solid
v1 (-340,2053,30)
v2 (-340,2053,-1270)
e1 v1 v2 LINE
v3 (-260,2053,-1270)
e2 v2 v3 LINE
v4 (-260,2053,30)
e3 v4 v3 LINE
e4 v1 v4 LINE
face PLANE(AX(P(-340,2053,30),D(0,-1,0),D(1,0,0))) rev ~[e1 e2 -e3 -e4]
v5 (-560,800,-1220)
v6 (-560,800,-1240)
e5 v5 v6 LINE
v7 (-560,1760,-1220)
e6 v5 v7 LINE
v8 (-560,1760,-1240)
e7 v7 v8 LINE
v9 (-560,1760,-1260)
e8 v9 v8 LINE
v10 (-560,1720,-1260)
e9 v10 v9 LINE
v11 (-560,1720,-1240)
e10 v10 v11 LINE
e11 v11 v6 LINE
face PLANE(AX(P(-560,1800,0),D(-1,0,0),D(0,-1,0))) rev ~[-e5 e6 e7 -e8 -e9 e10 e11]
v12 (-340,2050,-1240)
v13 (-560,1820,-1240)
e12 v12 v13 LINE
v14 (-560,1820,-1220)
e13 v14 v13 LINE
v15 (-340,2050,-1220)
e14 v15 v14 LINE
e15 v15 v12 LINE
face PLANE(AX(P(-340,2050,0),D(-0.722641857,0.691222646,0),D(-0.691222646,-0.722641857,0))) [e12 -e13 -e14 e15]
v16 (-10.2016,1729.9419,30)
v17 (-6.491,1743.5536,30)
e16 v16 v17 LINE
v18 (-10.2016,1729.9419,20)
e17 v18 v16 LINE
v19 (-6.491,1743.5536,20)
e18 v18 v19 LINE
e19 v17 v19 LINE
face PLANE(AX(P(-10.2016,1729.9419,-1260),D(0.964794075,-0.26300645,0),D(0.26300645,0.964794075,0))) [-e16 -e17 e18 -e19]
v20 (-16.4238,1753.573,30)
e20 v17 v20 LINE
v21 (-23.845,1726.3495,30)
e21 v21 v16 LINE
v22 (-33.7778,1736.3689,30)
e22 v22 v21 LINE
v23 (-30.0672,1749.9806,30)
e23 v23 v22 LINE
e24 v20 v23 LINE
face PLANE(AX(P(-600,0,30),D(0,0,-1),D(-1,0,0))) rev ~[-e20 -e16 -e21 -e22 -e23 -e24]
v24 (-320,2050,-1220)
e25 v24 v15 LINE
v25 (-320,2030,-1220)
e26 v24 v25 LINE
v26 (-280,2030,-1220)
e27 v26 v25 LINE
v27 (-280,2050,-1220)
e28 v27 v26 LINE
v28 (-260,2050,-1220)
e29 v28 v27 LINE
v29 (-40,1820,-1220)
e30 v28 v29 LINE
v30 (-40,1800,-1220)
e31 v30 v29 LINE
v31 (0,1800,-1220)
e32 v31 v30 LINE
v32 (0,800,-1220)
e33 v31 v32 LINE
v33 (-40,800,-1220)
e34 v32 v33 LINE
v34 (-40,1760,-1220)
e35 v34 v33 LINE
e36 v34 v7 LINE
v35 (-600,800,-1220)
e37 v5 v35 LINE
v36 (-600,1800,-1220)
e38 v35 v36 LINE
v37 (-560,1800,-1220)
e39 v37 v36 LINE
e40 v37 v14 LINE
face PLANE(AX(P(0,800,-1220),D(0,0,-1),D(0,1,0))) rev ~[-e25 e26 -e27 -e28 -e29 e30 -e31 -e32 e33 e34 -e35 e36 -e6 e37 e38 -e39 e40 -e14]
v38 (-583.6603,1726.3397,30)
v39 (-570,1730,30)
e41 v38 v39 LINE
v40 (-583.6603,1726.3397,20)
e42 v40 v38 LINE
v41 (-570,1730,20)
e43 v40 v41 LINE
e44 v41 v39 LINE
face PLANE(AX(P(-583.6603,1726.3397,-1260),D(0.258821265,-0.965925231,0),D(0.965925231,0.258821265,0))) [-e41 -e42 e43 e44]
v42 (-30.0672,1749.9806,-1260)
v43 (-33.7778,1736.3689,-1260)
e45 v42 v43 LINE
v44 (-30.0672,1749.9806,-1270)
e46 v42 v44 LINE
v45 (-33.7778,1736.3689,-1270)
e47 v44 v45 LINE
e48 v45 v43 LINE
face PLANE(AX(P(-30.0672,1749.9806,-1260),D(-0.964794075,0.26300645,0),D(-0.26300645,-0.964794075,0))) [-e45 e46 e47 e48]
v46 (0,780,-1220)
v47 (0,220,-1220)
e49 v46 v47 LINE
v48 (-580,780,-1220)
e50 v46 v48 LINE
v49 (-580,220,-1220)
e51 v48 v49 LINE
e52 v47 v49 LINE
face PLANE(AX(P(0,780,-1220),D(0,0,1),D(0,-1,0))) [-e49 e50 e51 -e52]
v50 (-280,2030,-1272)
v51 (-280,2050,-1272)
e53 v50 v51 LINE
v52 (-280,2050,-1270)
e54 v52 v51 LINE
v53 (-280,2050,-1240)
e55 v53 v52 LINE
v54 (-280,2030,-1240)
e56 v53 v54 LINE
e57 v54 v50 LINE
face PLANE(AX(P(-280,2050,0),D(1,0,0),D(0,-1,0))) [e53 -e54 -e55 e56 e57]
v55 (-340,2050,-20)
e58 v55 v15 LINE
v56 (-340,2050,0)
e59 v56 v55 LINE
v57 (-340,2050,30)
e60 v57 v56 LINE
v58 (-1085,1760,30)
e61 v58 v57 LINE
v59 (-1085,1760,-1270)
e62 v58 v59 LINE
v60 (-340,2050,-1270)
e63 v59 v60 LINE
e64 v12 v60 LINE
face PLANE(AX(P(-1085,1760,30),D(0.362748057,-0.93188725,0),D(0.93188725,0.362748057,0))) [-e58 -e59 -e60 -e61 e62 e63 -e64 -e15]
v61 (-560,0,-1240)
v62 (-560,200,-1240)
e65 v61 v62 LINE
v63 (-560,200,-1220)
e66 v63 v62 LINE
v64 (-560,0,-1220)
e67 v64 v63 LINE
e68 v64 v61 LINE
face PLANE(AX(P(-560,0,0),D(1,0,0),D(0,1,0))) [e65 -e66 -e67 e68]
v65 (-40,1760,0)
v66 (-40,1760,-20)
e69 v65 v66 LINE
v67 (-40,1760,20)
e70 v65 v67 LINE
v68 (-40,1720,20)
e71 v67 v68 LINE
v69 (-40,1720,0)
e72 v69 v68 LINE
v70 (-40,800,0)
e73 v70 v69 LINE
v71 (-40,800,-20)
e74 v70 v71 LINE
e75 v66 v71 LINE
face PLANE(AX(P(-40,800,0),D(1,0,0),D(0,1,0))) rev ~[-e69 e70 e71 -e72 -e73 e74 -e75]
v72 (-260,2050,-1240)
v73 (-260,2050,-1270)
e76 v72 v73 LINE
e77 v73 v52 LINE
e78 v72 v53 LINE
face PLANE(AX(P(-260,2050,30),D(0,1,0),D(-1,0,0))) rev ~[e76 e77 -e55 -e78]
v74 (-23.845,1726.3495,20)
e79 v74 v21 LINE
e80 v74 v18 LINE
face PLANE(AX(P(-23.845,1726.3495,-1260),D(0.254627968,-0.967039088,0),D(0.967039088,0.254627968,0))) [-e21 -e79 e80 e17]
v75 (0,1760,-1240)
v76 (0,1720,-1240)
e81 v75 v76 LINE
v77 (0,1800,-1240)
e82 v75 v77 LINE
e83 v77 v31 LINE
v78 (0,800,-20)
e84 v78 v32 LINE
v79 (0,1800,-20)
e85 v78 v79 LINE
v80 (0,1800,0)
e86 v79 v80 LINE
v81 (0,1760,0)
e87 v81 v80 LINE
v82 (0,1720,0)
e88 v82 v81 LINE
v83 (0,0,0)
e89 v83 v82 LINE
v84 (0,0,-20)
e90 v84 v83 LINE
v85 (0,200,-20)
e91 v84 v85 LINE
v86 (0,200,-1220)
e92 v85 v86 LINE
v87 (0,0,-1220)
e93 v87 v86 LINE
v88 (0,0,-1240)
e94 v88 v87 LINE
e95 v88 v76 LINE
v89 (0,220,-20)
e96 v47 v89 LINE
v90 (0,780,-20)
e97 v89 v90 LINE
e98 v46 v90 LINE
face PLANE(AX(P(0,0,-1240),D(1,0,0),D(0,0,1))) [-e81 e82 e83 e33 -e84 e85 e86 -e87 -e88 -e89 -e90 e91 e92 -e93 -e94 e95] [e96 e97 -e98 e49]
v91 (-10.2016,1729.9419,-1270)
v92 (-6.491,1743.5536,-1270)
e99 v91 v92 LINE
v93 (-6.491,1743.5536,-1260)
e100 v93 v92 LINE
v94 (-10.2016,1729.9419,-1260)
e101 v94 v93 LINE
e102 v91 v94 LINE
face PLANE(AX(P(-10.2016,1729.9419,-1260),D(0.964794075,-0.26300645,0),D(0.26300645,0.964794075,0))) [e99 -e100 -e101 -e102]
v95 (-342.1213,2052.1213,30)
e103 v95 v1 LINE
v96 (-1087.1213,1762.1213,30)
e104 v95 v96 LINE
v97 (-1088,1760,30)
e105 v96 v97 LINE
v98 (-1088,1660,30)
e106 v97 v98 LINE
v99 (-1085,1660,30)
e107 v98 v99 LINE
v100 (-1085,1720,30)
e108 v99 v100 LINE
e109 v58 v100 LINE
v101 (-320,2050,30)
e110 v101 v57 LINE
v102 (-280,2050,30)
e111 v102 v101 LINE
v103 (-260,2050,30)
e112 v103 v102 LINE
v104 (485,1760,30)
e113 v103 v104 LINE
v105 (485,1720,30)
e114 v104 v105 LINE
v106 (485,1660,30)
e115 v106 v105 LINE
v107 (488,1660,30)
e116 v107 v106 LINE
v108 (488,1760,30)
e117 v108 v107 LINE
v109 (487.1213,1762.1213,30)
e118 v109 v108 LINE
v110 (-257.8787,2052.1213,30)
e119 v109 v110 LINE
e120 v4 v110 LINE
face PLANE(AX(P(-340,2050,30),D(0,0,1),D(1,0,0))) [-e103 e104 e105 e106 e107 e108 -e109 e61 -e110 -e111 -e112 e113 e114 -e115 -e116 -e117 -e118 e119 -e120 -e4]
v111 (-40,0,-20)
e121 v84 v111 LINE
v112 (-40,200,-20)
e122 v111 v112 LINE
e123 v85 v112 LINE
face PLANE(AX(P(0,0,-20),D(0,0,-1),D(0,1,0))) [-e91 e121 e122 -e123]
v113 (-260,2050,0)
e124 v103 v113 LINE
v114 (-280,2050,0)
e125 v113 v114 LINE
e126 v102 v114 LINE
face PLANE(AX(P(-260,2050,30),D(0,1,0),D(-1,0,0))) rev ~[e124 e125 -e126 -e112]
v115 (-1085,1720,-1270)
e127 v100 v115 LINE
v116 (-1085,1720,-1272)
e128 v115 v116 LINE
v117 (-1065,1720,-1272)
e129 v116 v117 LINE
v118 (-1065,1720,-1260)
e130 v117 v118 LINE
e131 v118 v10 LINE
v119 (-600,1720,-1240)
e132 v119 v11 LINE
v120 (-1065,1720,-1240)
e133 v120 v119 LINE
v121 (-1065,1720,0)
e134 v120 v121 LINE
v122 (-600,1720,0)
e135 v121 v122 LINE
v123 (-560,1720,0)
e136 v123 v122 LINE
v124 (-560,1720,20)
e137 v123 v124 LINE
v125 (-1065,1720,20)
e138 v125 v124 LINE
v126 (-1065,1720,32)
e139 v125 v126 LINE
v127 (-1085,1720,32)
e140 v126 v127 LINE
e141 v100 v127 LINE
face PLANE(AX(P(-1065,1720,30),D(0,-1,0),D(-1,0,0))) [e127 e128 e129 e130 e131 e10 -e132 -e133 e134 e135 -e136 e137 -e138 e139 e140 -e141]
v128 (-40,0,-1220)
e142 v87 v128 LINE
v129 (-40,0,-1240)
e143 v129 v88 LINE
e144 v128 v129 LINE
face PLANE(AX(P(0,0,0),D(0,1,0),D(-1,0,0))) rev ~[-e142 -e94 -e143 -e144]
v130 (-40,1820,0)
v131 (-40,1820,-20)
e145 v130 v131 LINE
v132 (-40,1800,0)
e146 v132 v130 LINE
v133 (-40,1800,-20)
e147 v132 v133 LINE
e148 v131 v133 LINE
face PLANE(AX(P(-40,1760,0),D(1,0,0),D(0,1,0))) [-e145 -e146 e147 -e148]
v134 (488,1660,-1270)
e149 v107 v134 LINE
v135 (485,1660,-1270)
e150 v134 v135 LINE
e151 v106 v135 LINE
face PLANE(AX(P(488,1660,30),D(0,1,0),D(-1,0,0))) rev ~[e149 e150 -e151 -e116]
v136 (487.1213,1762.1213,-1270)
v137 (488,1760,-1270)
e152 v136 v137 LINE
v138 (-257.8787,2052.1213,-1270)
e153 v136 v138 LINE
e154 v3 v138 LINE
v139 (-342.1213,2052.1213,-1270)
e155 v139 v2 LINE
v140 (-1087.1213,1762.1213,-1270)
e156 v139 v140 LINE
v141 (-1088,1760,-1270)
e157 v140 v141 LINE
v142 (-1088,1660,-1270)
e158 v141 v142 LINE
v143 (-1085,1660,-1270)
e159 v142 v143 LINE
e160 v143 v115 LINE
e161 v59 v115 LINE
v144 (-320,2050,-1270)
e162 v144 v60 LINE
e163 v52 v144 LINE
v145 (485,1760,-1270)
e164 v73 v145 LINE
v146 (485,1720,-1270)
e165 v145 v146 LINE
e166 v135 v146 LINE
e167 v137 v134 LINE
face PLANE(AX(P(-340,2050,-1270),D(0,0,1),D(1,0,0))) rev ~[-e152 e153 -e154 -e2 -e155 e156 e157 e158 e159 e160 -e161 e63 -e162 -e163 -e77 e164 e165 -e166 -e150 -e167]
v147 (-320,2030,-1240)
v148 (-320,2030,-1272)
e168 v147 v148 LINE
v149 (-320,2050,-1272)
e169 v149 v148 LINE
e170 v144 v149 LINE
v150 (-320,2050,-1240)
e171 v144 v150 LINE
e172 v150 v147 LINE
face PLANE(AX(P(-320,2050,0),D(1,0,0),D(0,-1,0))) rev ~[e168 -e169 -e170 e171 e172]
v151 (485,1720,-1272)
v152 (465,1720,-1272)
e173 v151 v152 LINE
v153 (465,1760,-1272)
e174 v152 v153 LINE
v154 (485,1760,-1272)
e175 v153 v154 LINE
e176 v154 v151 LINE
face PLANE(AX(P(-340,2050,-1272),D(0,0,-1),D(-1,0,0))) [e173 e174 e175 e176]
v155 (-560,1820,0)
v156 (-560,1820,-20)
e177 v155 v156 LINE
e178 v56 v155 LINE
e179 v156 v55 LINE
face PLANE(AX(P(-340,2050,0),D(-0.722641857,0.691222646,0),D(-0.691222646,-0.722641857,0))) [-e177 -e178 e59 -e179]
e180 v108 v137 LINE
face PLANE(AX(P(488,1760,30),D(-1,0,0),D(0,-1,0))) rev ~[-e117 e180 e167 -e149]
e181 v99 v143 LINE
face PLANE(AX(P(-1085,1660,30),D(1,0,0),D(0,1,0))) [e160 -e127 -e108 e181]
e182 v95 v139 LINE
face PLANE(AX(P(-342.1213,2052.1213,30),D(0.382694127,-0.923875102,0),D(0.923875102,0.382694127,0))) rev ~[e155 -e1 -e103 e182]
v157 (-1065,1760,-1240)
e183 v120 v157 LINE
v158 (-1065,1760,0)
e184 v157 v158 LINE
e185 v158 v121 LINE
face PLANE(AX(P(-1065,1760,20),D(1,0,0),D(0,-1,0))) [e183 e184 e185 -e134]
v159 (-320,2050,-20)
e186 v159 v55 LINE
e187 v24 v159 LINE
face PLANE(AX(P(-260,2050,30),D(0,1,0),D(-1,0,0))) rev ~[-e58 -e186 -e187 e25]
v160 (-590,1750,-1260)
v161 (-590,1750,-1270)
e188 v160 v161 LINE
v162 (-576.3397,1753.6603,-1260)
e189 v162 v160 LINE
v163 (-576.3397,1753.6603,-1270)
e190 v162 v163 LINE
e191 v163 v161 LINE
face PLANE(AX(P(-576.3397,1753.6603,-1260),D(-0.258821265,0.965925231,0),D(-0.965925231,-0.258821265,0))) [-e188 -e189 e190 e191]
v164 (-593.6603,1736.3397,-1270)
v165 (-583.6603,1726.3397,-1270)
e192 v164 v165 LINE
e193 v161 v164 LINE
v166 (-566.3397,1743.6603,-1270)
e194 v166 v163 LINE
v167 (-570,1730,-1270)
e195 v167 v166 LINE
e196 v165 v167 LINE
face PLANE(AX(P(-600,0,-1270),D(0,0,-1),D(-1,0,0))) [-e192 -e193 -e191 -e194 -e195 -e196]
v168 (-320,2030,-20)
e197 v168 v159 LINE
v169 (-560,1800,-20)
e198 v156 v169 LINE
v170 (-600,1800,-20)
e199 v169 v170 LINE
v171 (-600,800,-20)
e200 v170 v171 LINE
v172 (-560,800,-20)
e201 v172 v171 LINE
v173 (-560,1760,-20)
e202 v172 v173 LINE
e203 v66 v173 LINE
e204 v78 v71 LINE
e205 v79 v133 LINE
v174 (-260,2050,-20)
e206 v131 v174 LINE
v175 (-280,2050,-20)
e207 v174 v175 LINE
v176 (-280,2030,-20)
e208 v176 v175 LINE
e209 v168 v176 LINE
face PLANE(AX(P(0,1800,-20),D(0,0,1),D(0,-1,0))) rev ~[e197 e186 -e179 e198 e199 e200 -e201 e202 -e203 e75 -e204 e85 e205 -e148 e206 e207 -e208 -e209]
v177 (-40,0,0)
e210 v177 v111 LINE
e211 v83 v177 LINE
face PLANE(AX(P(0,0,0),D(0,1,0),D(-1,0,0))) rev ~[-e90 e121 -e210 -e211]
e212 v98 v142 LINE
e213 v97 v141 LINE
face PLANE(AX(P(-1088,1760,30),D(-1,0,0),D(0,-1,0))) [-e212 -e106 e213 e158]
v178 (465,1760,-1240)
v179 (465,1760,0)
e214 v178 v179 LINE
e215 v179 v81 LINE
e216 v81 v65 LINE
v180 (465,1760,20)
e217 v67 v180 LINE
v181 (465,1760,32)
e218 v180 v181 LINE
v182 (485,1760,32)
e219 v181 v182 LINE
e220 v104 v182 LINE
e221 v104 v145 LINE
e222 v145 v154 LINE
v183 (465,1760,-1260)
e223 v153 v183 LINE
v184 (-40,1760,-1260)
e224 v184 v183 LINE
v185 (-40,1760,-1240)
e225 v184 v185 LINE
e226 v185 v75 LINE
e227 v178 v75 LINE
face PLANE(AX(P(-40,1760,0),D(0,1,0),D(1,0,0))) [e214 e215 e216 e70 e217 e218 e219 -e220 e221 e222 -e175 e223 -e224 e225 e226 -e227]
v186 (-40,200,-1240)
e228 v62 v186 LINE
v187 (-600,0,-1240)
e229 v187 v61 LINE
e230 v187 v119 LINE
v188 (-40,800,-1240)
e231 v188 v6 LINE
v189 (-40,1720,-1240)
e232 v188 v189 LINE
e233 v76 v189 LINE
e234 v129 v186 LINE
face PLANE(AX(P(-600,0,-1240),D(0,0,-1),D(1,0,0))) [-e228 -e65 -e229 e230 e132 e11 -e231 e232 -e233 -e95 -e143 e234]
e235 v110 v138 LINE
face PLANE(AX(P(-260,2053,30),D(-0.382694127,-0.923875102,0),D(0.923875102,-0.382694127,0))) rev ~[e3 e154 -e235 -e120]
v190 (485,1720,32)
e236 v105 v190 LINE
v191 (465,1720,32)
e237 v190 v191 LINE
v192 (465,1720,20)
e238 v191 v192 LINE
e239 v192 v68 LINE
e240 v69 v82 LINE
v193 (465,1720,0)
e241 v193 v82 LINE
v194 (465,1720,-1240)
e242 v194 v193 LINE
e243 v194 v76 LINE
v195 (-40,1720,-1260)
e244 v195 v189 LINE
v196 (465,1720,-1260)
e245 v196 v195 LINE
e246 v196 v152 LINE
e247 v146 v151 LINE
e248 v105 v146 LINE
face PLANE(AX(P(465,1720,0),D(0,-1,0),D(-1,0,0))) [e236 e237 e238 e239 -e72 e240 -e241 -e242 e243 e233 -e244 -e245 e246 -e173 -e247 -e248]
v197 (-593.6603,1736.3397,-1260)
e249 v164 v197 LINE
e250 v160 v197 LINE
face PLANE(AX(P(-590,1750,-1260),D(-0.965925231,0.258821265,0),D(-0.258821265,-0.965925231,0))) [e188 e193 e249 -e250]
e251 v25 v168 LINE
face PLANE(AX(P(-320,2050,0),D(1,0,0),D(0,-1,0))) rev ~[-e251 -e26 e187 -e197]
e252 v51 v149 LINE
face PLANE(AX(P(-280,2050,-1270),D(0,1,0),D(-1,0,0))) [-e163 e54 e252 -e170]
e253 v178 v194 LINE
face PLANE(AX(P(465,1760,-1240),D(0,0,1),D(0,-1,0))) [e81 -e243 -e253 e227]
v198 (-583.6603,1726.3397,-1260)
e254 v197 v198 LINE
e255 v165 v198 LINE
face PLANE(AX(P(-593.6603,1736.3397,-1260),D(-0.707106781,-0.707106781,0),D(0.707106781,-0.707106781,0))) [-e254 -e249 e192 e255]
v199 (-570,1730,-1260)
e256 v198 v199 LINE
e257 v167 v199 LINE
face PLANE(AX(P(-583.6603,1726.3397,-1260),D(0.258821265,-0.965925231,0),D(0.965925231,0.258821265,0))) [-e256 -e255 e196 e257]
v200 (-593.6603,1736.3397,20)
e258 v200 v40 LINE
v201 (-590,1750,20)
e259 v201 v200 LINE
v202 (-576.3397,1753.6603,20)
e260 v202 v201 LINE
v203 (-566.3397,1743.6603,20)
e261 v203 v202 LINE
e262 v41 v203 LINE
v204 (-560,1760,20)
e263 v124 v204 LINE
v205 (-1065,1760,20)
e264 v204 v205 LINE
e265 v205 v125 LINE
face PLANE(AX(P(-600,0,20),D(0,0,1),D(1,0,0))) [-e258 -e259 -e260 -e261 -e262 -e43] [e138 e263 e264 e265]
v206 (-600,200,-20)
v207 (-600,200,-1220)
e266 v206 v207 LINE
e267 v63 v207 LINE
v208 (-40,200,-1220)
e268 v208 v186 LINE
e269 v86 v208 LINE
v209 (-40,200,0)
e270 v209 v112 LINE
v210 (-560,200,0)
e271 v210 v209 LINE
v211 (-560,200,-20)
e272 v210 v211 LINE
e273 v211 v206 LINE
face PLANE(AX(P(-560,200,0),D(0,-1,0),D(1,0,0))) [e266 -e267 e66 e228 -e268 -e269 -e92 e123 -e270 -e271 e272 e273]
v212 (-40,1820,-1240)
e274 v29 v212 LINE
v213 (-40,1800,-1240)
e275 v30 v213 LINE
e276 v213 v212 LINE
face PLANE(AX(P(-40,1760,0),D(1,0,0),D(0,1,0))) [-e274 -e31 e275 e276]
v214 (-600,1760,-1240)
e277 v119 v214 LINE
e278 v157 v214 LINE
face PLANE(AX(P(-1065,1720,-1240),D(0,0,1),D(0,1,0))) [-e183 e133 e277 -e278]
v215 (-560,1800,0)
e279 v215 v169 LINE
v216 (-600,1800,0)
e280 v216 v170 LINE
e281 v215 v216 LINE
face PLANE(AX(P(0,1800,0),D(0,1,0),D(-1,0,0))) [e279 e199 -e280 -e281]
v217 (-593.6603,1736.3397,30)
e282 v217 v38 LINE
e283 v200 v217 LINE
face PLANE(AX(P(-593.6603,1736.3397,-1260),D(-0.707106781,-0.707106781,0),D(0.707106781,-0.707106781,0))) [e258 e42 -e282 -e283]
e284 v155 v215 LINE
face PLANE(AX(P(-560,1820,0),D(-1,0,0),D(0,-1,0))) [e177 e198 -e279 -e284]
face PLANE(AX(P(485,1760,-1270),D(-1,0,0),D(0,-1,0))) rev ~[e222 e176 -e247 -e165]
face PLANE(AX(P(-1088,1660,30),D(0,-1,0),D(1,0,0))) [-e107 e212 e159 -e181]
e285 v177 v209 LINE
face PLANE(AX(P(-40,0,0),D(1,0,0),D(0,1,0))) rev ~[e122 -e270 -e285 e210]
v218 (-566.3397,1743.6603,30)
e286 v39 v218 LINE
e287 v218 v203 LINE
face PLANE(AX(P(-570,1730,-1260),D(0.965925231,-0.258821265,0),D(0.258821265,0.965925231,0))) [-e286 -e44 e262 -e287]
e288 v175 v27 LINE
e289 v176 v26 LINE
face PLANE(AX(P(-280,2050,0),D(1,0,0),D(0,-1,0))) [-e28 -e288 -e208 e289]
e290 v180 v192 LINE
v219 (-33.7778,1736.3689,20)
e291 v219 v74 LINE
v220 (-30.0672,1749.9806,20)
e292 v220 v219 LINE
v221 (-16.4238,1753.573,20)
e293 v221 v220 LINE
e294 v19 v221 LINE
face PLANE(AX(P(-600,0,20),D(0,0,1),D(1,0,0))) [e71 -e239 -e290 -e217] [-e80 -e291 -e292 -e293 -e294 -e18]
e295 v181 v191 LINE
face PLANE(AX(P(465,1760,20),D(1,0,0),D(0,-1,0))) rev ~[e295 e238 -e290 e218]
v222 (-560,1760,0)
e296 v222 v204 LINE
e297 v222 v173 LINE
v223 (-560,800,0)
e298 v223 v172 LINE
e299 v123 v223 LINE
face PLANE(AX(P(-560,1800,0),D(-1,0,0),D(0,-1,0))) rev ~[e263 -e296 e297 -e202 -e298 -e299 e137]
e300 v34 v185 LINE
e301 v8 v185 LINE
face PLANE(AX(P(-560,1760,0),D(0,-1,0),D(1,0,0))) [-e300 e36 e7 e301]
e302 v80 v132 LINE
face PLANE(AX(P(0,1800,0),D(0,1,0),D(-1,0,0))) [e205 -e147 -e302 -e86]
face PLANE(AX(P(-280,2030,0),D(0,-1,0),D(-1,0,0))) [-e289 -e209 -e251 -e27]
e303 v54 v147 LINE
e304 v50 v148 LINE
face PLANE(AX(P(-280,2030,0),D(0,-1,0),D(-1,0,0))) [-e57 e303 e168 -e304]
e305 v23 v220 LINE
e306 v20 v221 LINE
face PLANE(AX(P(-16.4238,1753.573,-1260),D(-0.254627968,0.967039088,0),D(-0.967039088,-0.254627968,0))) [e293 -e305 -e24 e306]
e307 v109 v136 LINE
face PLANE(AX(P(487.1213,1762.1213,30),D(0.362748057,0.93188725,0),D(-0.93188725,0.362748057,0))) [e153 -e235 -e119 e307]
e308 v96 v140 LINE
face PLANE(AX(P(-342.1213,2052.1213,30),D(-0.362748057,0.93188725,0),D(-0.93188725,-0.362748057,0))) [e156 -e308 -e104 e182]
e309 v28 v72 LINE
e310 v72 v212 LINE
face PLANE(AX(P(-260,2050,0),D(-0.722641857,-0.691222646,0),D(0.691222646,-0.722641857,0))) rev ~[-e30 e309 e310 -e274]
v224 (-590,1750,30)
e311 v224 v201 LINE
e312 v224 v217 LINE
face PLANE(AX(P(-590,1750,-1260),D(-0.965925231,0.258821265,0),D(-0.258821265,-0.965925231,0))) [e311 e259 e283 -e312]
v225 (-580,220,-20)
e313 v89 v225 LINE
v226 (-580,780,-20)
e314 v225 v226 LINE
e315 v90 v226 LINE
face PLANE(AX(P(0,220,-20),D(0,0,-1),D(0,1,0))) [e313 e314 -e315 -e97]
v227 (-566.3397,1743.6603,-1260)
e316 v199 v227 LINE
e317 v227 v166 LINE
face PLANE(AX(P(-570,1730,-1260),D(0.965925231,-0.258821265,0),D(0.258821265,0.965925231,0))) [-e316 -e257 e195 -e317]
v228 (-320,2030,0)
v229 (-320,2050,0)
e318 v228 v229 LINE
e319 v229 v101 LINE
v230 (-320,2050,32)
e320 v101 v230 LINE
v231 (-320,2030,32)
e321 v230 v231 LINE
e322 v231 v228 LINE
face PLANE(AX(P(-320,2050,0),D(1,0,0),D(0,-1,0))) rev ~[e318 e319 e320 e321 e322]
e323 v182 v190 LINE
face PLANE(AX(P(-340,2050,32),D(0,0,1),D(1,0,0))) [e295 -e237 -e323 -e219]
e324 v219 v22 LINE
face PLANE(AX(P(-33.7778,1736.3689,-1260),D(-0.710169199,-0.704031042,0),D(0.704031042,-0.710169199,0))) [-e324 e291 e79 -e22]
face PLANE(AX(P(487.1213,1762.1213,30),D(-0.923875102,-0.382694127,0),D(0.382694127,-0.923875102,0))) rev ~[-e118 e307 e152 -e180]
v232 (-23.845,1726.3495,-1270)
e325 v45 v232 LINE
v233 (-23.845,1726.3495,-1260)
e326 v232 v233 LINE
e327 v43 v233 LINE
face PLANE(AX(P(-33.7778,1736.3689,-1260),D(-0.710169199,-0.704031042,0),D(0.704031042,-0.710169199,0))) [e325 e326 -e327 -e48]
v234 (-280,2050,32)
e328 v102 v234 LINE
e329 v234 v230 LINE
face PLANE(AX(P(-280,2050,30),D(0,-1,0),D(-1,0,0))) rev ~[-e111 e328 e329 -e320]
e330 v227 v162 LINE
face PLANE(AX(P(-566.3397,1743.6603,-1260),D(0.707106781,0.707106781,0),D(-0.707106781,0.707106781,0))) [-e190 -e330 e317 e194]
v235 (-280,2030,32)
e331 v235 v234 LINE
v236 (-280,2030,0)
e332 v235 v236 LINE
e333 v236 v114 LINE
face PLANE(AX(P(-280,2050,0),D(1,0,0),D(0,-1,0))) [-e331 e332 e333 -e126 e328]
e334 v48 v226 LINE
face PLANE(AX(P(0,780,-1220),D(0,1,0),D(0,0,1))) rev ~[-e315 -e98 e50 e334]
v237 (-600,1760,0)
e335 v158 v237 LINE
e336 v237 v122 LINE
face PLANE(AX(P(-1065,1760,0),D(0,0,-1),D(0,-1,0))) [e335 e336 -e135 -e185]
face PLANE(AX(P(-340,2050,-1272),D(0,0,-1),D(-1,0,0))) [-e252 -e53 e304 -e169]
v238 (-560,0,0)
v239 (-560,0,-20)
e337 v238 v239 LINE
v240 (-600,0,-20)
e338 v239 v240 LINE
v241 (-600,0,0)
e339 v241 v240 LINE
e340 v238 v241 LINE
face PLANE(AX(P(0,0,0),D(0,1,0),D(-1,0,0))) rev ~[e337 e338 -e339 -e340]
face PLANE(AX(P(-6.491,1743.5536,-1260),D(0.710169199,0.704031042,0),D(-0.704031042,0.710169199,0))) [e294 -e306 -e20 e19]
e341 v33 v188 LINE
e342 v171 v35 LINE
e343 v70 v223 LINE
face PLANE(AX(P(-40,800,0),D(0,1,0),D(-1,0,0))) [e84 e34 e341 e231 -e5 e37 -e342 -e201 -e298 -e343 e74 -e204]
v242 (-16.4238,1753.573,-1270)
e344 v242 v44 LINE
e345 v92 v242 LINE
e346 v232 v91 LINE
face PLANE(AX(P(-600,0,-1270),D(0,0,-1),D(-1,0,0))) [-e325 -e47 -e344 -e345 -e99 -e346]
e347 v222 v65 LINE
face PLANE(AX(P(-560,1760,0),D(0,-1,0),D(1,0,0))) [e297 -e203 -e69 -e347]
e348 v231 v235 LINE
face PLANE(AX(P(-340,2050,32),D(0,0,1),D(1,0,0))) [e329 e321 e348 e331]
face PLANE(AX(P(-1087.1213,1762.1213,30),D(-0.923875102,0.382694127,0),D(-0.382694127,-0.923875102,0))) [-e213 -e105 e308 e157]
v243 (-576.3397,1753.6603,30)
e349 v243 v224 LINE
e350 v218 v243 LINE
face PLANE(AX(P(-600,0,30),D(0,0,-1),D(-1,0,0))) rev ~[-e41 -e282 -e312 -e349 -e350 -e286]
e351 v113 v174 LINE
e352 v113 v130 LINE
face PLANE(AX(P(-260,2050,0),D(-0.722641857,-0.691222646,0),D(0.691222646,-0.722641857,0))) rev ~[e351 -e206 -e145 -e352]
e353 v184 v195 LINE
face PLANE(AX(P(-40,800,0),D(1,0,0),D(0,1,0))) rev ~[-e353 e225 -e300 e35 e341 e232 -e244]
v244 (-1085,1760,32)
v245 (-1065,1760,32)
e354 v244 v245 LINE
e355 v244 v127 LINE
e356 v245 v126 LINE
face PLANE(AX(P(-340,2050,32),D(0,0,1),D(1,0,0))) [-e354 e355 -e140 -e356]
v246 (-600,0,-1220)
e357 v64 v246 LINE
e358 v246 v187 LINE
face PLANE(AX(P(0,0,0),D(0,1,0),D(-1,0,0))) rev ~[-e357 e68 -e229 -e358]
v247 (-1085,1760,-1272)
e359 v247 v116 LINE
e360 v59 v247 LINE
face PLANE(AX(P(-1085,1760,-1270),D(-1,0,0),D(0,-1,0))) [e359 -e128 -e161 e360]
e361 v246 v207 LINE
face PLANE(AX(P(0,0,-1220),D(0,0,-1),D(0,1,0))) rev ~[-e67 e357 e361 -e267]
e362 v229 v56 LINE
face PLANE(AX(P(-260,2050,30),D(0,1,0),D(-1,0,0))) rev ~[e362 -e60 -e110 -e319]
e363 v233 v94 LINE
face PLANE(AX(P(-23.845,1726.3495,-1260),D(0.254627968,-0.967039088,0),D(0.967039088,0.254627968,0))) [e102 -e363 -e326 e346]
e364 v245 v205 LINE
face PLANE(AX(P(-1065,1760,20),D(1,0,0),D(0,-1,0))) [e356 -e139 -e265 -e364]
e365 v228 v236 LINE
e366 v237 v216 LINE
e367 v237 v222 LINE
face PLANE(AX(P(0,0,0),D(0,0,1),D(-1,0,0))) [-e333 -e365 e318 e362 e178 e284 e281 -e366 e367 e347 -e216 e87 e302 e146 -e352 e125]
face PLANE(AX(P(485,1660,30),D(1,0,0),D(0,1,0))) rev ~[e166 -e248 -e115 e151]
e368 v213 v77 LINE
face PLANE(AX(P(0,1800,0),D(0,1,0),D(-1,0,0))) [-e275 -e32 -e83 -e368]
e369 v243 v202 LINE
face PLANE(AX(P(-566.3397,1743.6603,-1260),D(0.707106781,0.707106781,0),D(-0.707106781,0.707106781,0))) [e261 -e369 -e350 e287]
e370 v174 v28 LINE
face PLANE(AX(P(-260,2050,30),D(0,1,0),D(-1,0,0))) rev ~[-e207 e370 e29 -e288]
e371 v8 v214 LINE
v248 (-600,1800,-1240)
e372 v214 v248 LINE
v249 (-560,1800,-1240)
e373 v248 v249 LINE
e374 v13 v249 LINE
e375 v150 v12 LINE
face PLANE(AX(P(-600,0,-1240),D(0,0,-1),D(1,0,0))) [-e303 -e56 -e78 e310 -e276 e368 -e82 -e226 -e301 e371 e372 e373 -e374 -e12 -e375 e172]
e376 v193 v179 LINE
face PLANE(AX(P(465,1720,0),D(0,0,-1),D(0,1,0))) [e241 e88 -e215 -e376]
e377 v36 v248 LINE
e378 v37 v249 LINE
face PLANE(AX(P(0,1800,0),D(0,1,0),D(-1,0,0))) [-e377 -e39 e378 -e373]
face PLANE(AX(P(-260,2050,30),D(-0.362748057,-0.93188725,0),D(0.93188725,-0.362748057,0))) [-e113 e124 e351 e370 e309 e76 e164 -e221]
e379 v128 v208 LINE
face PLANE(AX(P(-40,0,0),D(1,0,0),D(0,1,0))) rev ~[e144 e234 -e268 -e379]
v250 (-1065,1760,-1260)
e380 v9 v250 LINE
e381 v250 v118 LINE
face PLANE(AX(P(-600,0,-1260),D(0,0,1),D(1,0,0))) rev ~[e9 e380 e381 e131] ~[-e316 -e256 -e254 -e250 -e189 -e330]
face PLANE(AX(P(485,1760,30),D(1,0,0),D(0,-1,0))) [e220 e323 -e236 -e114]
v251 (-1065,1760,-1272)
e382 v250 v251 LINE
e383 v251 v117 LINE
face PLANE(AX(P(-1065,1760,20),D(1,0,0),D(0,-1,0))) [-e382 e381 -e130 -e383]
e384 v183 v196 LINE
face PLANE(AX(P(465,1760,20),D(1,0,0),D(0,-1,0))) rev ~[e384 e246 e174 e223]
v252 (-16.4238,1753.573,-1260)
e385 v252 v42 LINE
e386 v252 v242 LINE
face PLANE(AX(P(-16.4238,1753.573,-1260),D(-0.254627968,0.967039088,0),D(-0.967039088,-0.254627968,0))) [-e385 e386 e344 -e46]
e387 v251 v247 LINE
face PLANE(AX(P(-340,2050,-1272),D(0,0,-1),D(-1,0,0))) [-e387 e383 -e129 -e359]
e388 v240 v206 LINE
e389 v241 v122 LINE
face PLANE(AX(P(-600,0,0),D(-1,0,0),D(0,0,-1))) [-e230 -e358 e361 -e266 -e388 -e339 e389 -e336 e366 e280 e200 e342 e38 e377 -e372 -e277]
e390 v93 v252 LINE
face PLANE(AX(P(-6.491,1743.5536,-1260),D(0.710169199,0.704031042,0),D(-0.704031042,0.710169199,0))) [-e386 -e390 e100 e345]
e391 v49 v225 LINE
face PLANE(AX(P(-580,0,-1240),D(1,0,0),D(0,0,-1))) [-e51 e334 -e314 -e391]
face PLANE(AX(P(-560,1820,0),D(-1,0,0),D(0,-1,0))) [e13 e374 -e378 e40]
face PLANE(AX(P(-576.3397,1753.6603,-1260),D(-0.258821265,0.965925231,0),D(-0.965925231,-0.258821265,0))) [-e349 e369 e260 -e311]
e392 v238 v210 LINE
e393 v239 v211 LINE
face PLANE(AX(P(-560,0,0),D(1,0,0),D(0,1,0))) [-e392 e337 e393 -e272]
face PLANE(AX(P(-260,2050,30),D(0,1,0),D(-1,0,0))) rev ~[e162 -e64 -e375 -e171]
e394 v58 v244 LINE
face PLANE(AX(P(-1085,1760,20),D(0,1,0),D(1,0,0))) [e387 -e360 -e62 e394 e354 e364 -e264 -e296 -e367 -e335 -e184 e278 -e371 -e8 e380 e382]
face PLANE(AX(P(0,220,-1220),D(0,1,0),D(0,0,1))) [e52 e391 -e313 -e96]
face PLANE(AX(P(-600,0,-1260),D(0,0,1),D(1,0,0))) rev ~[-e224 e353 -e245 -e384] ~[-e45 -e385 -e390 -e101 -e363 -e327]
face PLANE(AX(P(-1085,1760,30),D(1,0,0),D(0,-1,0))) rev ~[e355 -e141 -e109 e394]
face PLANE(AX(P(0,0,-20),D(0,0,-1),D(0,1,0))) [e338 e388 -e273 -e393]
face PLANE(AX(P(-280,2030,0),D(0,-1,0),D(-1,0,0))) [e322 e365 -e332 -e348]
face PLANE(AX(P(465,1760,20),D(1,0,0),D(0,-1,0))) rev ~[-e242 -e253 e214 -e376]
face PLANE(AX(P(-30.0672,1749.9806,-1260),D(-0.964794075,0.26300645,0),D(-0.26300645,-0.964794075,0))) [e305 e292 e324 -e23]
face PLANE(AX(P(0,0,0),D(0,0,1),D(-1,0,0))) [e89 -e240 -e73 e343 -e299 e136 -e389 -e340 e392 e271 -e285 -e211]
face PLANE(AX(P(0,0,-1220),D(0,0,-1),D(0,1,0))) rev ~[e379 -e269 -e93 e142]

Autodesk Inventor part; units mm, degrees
ref_plane "YZ Plane" through (0, 0, 0) normal (1, 0, 0) x (0, 1, 0)
ref_plane "XZ Plane" through (0, 0, 0) normal (0, 1, 0) x (-1, 0, 0)
ref_plane "XY Plane" through (0, 0, 0) normal (0, 0, 1) x (1, 0, 0)
sketch "Boceto1" plane through (0, 0, 0) normal (0, 1, 0) x (-1, 0, 0)
  line L0 (0, 0) -> (600, 0)
  line L1 (600, 0) -> (600, -1240)
  line L2 (600, -1240) -> (0, -1240)
  line L3 (0, -1240) -> (0, 0)
  dimension "d0" = 600
  dimension "d1" = 1240
extrude "Extrusión1" add sketch "Boceto1" along normal blind 1800
sketch "Boceto2" plane through (-600, 0, 0) normal (0, 0, 1) x (1, 0, 0)
  line L0 (600, 0) -> (0, 0) projected
  line L1 (0, 0) -> (40, 0)
  line L2 (40, 0) -> (40, 200)
  line L3 (600, 0) -> (560, 0)
  line L4 (560, 0) -> (560, 200)
  line L5 (40, 200) -> (560, 200)
  line L6 (560, 200) -> (560, 0)
  line L7 (560, 0) -> (40, 0)
  line L8 (40, 0) -> (40, 200)
  line L9 (40, 200) -> (560, 200)
  line L10 (560, 800) -> (40, 800)
  line L11 (600, 1800) -> (0, 1800) projected
  line L12 (40, 800) -> (560, 800)
  line L13 (560, 800) -> (560, 1800)
  line L14 (560, 1800) -> (40, 1800)
  line L15 (40, 1800) -> (40, 800)
  dimension "d5" = 200
  dimension "d7" = 200
  dimension "d9" = 520
extrude "Extrusión2" cut sketch "Boceto2" against normal blind 1240
sketch "Boceto3" plane through (0, 0, 0) normal (1, 0, 0) x (0, 0, -1)
  line L0 (0, 0) -> (20, 0)
  line L1 (20, 0) -> (20, 200)
  line L2 (20, 200) -> (0, 200)
  line L3 (0, 200) -> (0, 0)
  line L4 (0, 0) -> (1240, 0) projected
  line L5 (1240, 0) -> (1220, 0)
  line L6 (1220, 0) -> (1220, 200)
  line L7 (1220, 200) -> (1240, 200)
  line L8 (1240, 200) -> (1240, 0)
  line L9 (20, 200) -> (1220, 200)
  line L10 (1220, 200) -> (1220, 0)
  line L11 (1220, 0) -> (20, 0)
  line L12 (20, 0) -> (20, 200)
  line L13 (0, 800) -> (1240, 800) projected
  line L14 (20, 200) -> (1220, 200)
  line L15 (1220, 200) -> (1220, 780)
  line L16 (1220, 800) -> (20, 800)
  line L17 (20, 800) -> (20, 780)
  line L18 (20, 800) -> (1220, 800)
  line L19 (1220, 800) -> (1220, 780)
  line L20 (1220, 780) -> (20, 780)
  line L21 (20, 780) -> (20, 800)
  line L22 (20, 200) -> (1220, 200)
  line L23 (1220, 200) -> (1220, 220)
  line L24 (1220, 220) -> (20, 220)
  line L25 (20, 220) -> (20, 200)
  line L26 (0, 1800) -> (1240, 1800) projected
  line L27 (20, 800) -> (1220, 800)
  line L28 (1220, 800) -> (1220, 1800)
  line L29 (1220, 1800) -> (20, 1800)
  line L30 (20, 1800) -> (20, 800)
  line L31 (20, 780) -> (20, 220)
  line L32 (20, 220) -> (20, 200)
  line L33 (1220, 780) -> (1220, 800)
  dimension "d12" = 20
  dimension "d13" = 200
  dimension "d14" = 20
  dimension "d15" = 200
  dimension "d16" = 1200
  dimension "d17" = 20
  dimension "d18" = 1200
  dimension "d19" = 20
  dimension "d20" = 1200
extrude "Extrusión3" cut sketch "Boceto3" against normal blind 600 contours L1 L9 L6 L4 | L30 L26 L28 L13
sketch "Boceto4" plane through (0, 0, -1240) normal (1, 0, 0) x (0, 0, -1)
  line L0 (-20, 800) -> (-20, 780)
  line L1 (-20, 780) -> (-1220, 780)
  line L2 (-1220, 780) -> (-1220, 800)
  line L3 (-20, 200) -> (-20, 220)
  line L4 (-20, 220) -> (-1220, 220)
  line L5 (-1220, 220) -> (-1220, 200)
  line L6 (-1220, 780) -> (-20, 780)
  line L7 (-20, 780) -> (-20, 220)
  line L8 (-20, 220) -> (-1220, 220)
  line L9 (-1220, 220) -> (-1220, 780)
  point P0 (-1240, 0)
  dimension "d23" = 1200
  dimension "d24" = 20
  dimension "d25" = 1200
  dimension "d26" = 20
extrude "Extrusión4" cut sketch "Boceto4" against normal blind 580
sketch "Boceto5" plane through (0, 0, 0) normal (0, 0, 1) x (1, 0, 0)
  line L0 (0, 0) -> (0, 2050)
  line L1 (0, 0) -> (2050, 0) construction
  line L2 (0, 2050) -> (-560, 2050)
  line L3 (-560, 2050) -> (-560, 1760)
  line L4 (-560, 1760) -> (0, 1760)
  line L5 (0, 1760) -> (0, 2050)
  line L6 (0, 1760) -> (-40, 1760)
  line L7 (-40, 1760) -> (-40, 2050)
  line L8 (-40, 2050) -> (0, 2050)
  line L9 (0, 2050) -> (0, 1760)
  line L10 (-560, 1760) -> (-40, 1760)
  line L11 (-40, 1760) -> (-40, 1820)
  line L12 (-40, 1820) -> (-560, 1820)
  line L13 (-560, 1820) -> (-560, 1760)
  line L14 (-560, 2050) -> (-340, 2050)
  line L15 (-340, 2050) -> (-260, 2050)
  line L16 (-260, 2050) -> (-40, 1820)
  line L17 (-340, 2050) -> (-560, 1820)
  dimension "d29" = 2050
  dimension "d30" = 90
  dimension "d31" = 560
  dimension "d32" = 290
  dimension "d33" = 520
  dimension "d34" = 60
  dimension "d35" = 220
  dimension "d36" = 80
extrude "Extrusión5" add sketch "Boceto5" against normal blind 1240 contours L4 L3 L12 L7 | L12 L17 L2 L16
sketch "Boceto6" plane through (-40, 1760, -20) normal (1, 0, 0) x (0, 0, -1)
  line L0 (0, 0) -> (1200, 0) projected
  line L1 (-20, 290) -> (1220, 290) projected
  line L2 (0, 0) -> (1200, 0)
  line L3 (1200, 0) -> (1200, 290)
  line L4 (1200, 290) -> (0, 290)
  line L5 (0, 290) -> (0, 0)
  point P0 (-20, -1760)
  dimension "d39" = 1200
extrude "Extrusión6" cut sketch "Boceto6" against normal blind 520
sketch "Boceto7" plane through (-600, 0, 0) normal (0, 0, 1) x (1, 0, 0)
  line L0 (40, 800) -> (40, 1760) projected
  line L1 (40, 1760) -> (-465, 1760)
  line L2 (-465, 1760) -> (-465, 1720)
  line L3 (-465, 1720) -> (40, 1720)
  line L4 (40, 1720) -> (40, 1760)
  line L5 (560, 1760) -> (560, 800) projected
  line L6 (560, 1760) -> (1065, 1760)
  line L7 (1065, 1760) -> (1065, 1720)
  line L8 (1065, 1720) -> (560, 1720)
  line L9 (560, 1720) -> (560, 1760)
  point P0 (600, 0)
  dimension "d42" = 505
  dimension "d43" = 40
  dimension "d44" = 505
  dimension "d45" = 40
extrude "Extrusión7" add sketch "Boceto7" along normal blind 20 and the other way blind 1260
sketch "Boceto8" plane through (465, 1720, 20) normal (1, 0, 0) x (0, 0, -1)
  line L0 (20, 40) -> (0, 40) projected
  line L1 (1280, 0) -> (1260, 0) projected
  line L2 (20, 40) -> (1260, 40)
  line L3 (1260, 40) -> (1260, 0)
  line L4 (1260, 0) -> (20, 0)
  line L5 (20, 0) -> (20, 40)
  point P0 (20, -1720)
extrude "Extrusión8" cut sketch "Boceto8" against normal blind 465
sketch "Boceto9" plane through (-1065, 1720, 20) normal (-1, 0, 0) x (0, 0, 1)
  line L0 (-20, 0) -> (-20, -920) projected
  line L1 (-1260, 40) -> (-1260, 80) projected
  line L2 (-20, 0) -> (-1260, 0)
  line L3 (-1260, 0) -> (-1260, 40)
  line L4 (-1260, 40) -> (-20, 40)
  line L5 (-20, 40) -> (-20, 0)
  point P0 (-20, -1720)
extrude "Extrusión9" cut sketch "Boceto9" against normal blind 465
sketch "Boceto10" plane through (-600, 0, -1220) normal (-1, 0, 0) x (0, 0, 1)
  line L0 (0, 1760) -> (0, 1800) projected
  line L1 (0, 1720) -> (1200, 1720) projected
  line L2 (0, 1760) -> (1200, 1760)
  line L3 (1200, 1760) -> (1200, 1720)
  line L4 (1200, 1720) -> (0, 1720)
  line L5 (0, 1720) -> (0, 1760)
  point P0 (1220, 0)
extrude "Extrusión10" cut sketch "Boceto10" against normal blind 600
sketch "Boceto11" plane through (-600, 0, -1260) normal (0, 0, -1) x (-1, 0, 0)
  line L0 (-560, 1760) -> (-560, 800) projected
  line L1 (-579.0242, 1739.1271) -> (-579.8656, 1739.9613)
  line L2 (-569.9328, 1749.9806) -> (-566.2222, 1736.3689)
  line L3 (-566.2222, 1736.3689) -> (-576.155, 1726.3495)
  line L4 (-576.155, 1726.3495) -> (-589.7984, 1729.9419)
  line L5 (-589.7984, 1729.9419) -> (-593.509, 1743.5536)
  line L6 (-593.509, 1743.5536) -> (-583.5762, 1753.573)
  line L7 (-583.5762, 1753.573) -> (-569.9328, 1749.9806)
  line L8 (-40, 1760) -> (-560, 1760) projected
  line L9 (0, 1760) -> (0, 1720) projected
  line L10 (-10, 1750) -> (-6.3397, 1736.3397)
  line L11 (-6.3397, 1736.3397) -> (-16.3397, 1726.3397)
  line L12 (-16.3397, 1726.3397) -> (-30, 1730)
  line L13 (-30, 1730) -> (-33.6603, 1743.6603)
  line L14 (-33.6603, 1743.6603) -> (-23.6603, 1753.6603)
  line L15 (-23.6603, 1753.6603) -> (-10, 1750)
  point P0 (-600, 0)
  point P1 (-20, 1740)
extrude "Extrusión11" add sketch "Boceto11" along normal blind 10 and the other way blind 1290
sketch "Boceto12" plane through (-600, 800, -1220) normal (-1, 0, 0) x (0, 0, 1)
  line L0 (0, 1000) -> (0, 0) projected
  line L1 (1200, 960) -> (1200, 0) projected
  line L2 (0, 1000) -> (1200, 1000)
  line L3 (1200, 1000) -> (1200, 911.7503)
  line L4 (1200, 911.7503) -> (0, 911.7503)
  line L5 (0, 911.7503) -> (0, 1000)
  point P0 (1220, -800)
extrude "Extrusión12" cut sketch "Boceto12" against normal blind 600
sketch "Boceto13" plane through (-340, 2050, 0) normal (0, 0, 1) x (1, 0, 0)
  line L0 (-220, -230) -> (0, 0) projected
  line L1 (0, 0) -> (20, 0)
  line L2 (20, 0) -> (20, -20)
  line L3 (20, -20) -> (0, -20)
  line L4 (0, -20) -> (0, 0)
  line L5 (20, 0) -> (60, 0)
  line L6 (60, 0) -> (60, -20)
  line L7 (60, -20) -> (20, -20)
  line L8 (20, -20) -> (20, 0)
  point P0 (340, -2050)
  dimension "d62" = 20
  dimension "d63" = 20
  dimension "d64" = 40
  dimension "d65" = 20
extrude "Extrusión13" add sketch "Boceto13" along normal blind 30 and the other way blind 1270 contours L5 L6 L7 L2
sketch "Boceto14" plane through (-600, 0, 20) normal (0, 0, 1) x (1, 0, 0)
  line L0 (40, 1720) -> (-465, 1720) projected
  line L1 (-465, 1720) -> (-485, 1720)
  line L2 (-485, 1720) -> (-485, 1760)
  line L3 (-485, 1760) -> (-465, 1760)
  line L4 (-465, 1760) -> (-465, 1720)
  line L5 (1065, 1760) -> (1065, 1720) projected
  line L6 (1065, 1760) -> (1085, 1760)
  line L7 (1085, 1760) -> (1085, 1720)
  line L8 (1085, 1720) -> (1065, 1720)
  line L9 (1065, 1720) -> (1065, 1760)
  point P0 (600, 0)
  dimension "d70" = 20
  dimension "d71" = 40
  dimension "d72" = 20
extrude "Extrusión14" add sketch "Boceto14" along normal blind 30 and the other way blind 1290
sketch "Boceto15" plane through (485, 1720, 50) normal (1, 0, 0) x (0, 0, -1)
  line L0 (1320, 40) -> (0, 40) projected
  line L1 (1320, 0) -> (0, 0) projected
  line L2 (0, 40) -> (20, 40)
  line L3 (20, 40) -> (20, 0)
  line L4 (20, 0) -> (0, 0)
  line L5 (0, 0) -> (0, 40)
  point P0 (50, -1720)
  dimension "d77" = 20
extrude "Extrusión15" cut sketch "Boceto15" against normal blind 1570
sketch "Boceto16" plane through (-340, 2050, 30) normal (0, 0, 1) x (1, 0, 0)
  line L0 (300, -230) -> (80, 0) projected
  line L1 (80, 0) -> (0, 0)
  line L2 (0, 3) -> (80, 3)
  line L3 (805, -290) -> (825, -290) projected
  line L4 (828, -290) -> (828, -390)
  line L5 (828, -390) -> (825, -390)
  line L6 (825, -390) -> (825, -290)
  line L7 (80, 0) -> (825, -290)
  line L8 (825, -290) -> (828, -290) construction
  line L9 (827.1213, -287.8787) -> (828, -290)
  line L10 (-745, -290) -> (-725, -290) projected
  line L11 (-748, -290) -> (-748, -390)
  line L12 (-748, -390) -> (-745, -390)
  line L13 (-745, -390) -> (-745, -290)
  line L14 (0, 0) -> (3, 0) construction
  line L15 (-2.1213, 2.1213) -> (0, 3)
  line L16 (-2.1213, 2.1213) -> (-747.1213, -287.8787)
  line L17 (-745, -290) -> (0, 0)
  line L18 (-747.1213, -287.8787) -> (-748, -290)
  line L19 (80, 0) -> (83, 0) construction
  line L20 (825, -290) -> (828, -290) construction
  line L21 (827.1213, -287.8787) -> (82.1213, 2.1213)
  line L22 (80, 3) -> (82.1213, 2.1213)
  point P0 (340, -2050)
  dimension "d80" = 80
  dimension "d81" = 3
  dimension "d82" = 3
  dimension "d83" = 100
  dimension "d84" = 3
  dimension "d87" = 3
  dimension "d88" = 100
  dimension "d89" = 3
  dimension "d90" = 3
  dimension "d92" = 3
  dimension "d94" = 3
extrude "Extrusión16" add sketch "Boceto16" against normal blind 1300
sketch "Boceto17" plane through (-340, 2050, -1270) normal (0, 0, -1) x (-1, 0, 0)
  line L0 (-805, -330) -> (-805, -290) projected
  line L1 (-805, -290) -> (-825, -290)
  line L2 (-825, -290) -> (-825, -330)
  line L3 (-825, -330) -> (-805, -330)
  line L4 (-805, -330) -> (-805, -290)
  line L5 (-60, -20) -> (-20, -20) projected
  line L6 (-60, 0) -> (-20, 0)
  line L7 (-20, 0) -> (-20, -20)
  line L8 (-20, -20) -> (-60, -20)
  line L9 (-60, -20) -> (-60, 0)
  line L10 (725, -290) -> (725, -330) projected
  line L11 (745, -330) -> (745, -390) projected
  line L12 (725, -290) -> (745, -290)
  line L13 (745, -290) -> (745, -330)
  line L14 (745, -330) -> (725, -330)
  line L15 (725, -330) -> (725, -290)
  point P0 (-340, -2050)
extrude "Extrusión17" add sketch "Boceto17" along normal blind 2
sketch "Boceto18" plane through (-340, 2050, 30) normal (0, 0, 1) x (1, 0, 0)
  line L0 (20, -20) -> (60, -20) projected
  line L1 (60, -20) -> (60, 0) projected
  line L2 (20, -20) -> (60, -20)
  line L3 (60, -20) -> (60, 0)
  line L4 (60, 0) -> (20, 0)
  line L5 (20, 0) -> (20, -20)
  line L6 (-745, -290) -> (-745, -330) projected
  line L7 (-725, -290) -> (-725, -330) projected
  line L8 (-745, -290) -> (-725, -290)
  line L9 (-725, -290) -> (-725, -330)
  line L10 (-725, -330) -> (-745, -330)
  line L11 (-745, -330) -> (-745, -290)
  line L12 (805, -290) -> (805, -330) projected
  line L13 (825, -390) -> (825, -330) projected
  line L14 (805, -290) -> (825, -290)
  line L15 (825, -290) -> (825, -330)
  line L16 (825, -330) -> (805, -330)
  line L17 (805, -330) -> (805, -290)
  point P0 (340, -2050)
extrude "Extrusión18" add sketch "Boceto18" along normal blind 2
sketch "Boceto19" plane through (-600, 800, -1220) normal (-1, 0, 0) x (0, 0, 1)
  line L0 (295, -52.0042) -> (905, -52.0042) construction
  line L1 (905, -52.0042) -> (905, -552.7126) construction
  line L2 (905, -552.7126) -> (295, -552.7126) construction
  line L3 (295, -552.7126) -> (295, -52.0042) construction
  line L4 (-20, 0) -> (-20, 920) projected
  line L5 (-20, -800) -> (-20, 920) projected
  point P0 (905, -302.3584)
